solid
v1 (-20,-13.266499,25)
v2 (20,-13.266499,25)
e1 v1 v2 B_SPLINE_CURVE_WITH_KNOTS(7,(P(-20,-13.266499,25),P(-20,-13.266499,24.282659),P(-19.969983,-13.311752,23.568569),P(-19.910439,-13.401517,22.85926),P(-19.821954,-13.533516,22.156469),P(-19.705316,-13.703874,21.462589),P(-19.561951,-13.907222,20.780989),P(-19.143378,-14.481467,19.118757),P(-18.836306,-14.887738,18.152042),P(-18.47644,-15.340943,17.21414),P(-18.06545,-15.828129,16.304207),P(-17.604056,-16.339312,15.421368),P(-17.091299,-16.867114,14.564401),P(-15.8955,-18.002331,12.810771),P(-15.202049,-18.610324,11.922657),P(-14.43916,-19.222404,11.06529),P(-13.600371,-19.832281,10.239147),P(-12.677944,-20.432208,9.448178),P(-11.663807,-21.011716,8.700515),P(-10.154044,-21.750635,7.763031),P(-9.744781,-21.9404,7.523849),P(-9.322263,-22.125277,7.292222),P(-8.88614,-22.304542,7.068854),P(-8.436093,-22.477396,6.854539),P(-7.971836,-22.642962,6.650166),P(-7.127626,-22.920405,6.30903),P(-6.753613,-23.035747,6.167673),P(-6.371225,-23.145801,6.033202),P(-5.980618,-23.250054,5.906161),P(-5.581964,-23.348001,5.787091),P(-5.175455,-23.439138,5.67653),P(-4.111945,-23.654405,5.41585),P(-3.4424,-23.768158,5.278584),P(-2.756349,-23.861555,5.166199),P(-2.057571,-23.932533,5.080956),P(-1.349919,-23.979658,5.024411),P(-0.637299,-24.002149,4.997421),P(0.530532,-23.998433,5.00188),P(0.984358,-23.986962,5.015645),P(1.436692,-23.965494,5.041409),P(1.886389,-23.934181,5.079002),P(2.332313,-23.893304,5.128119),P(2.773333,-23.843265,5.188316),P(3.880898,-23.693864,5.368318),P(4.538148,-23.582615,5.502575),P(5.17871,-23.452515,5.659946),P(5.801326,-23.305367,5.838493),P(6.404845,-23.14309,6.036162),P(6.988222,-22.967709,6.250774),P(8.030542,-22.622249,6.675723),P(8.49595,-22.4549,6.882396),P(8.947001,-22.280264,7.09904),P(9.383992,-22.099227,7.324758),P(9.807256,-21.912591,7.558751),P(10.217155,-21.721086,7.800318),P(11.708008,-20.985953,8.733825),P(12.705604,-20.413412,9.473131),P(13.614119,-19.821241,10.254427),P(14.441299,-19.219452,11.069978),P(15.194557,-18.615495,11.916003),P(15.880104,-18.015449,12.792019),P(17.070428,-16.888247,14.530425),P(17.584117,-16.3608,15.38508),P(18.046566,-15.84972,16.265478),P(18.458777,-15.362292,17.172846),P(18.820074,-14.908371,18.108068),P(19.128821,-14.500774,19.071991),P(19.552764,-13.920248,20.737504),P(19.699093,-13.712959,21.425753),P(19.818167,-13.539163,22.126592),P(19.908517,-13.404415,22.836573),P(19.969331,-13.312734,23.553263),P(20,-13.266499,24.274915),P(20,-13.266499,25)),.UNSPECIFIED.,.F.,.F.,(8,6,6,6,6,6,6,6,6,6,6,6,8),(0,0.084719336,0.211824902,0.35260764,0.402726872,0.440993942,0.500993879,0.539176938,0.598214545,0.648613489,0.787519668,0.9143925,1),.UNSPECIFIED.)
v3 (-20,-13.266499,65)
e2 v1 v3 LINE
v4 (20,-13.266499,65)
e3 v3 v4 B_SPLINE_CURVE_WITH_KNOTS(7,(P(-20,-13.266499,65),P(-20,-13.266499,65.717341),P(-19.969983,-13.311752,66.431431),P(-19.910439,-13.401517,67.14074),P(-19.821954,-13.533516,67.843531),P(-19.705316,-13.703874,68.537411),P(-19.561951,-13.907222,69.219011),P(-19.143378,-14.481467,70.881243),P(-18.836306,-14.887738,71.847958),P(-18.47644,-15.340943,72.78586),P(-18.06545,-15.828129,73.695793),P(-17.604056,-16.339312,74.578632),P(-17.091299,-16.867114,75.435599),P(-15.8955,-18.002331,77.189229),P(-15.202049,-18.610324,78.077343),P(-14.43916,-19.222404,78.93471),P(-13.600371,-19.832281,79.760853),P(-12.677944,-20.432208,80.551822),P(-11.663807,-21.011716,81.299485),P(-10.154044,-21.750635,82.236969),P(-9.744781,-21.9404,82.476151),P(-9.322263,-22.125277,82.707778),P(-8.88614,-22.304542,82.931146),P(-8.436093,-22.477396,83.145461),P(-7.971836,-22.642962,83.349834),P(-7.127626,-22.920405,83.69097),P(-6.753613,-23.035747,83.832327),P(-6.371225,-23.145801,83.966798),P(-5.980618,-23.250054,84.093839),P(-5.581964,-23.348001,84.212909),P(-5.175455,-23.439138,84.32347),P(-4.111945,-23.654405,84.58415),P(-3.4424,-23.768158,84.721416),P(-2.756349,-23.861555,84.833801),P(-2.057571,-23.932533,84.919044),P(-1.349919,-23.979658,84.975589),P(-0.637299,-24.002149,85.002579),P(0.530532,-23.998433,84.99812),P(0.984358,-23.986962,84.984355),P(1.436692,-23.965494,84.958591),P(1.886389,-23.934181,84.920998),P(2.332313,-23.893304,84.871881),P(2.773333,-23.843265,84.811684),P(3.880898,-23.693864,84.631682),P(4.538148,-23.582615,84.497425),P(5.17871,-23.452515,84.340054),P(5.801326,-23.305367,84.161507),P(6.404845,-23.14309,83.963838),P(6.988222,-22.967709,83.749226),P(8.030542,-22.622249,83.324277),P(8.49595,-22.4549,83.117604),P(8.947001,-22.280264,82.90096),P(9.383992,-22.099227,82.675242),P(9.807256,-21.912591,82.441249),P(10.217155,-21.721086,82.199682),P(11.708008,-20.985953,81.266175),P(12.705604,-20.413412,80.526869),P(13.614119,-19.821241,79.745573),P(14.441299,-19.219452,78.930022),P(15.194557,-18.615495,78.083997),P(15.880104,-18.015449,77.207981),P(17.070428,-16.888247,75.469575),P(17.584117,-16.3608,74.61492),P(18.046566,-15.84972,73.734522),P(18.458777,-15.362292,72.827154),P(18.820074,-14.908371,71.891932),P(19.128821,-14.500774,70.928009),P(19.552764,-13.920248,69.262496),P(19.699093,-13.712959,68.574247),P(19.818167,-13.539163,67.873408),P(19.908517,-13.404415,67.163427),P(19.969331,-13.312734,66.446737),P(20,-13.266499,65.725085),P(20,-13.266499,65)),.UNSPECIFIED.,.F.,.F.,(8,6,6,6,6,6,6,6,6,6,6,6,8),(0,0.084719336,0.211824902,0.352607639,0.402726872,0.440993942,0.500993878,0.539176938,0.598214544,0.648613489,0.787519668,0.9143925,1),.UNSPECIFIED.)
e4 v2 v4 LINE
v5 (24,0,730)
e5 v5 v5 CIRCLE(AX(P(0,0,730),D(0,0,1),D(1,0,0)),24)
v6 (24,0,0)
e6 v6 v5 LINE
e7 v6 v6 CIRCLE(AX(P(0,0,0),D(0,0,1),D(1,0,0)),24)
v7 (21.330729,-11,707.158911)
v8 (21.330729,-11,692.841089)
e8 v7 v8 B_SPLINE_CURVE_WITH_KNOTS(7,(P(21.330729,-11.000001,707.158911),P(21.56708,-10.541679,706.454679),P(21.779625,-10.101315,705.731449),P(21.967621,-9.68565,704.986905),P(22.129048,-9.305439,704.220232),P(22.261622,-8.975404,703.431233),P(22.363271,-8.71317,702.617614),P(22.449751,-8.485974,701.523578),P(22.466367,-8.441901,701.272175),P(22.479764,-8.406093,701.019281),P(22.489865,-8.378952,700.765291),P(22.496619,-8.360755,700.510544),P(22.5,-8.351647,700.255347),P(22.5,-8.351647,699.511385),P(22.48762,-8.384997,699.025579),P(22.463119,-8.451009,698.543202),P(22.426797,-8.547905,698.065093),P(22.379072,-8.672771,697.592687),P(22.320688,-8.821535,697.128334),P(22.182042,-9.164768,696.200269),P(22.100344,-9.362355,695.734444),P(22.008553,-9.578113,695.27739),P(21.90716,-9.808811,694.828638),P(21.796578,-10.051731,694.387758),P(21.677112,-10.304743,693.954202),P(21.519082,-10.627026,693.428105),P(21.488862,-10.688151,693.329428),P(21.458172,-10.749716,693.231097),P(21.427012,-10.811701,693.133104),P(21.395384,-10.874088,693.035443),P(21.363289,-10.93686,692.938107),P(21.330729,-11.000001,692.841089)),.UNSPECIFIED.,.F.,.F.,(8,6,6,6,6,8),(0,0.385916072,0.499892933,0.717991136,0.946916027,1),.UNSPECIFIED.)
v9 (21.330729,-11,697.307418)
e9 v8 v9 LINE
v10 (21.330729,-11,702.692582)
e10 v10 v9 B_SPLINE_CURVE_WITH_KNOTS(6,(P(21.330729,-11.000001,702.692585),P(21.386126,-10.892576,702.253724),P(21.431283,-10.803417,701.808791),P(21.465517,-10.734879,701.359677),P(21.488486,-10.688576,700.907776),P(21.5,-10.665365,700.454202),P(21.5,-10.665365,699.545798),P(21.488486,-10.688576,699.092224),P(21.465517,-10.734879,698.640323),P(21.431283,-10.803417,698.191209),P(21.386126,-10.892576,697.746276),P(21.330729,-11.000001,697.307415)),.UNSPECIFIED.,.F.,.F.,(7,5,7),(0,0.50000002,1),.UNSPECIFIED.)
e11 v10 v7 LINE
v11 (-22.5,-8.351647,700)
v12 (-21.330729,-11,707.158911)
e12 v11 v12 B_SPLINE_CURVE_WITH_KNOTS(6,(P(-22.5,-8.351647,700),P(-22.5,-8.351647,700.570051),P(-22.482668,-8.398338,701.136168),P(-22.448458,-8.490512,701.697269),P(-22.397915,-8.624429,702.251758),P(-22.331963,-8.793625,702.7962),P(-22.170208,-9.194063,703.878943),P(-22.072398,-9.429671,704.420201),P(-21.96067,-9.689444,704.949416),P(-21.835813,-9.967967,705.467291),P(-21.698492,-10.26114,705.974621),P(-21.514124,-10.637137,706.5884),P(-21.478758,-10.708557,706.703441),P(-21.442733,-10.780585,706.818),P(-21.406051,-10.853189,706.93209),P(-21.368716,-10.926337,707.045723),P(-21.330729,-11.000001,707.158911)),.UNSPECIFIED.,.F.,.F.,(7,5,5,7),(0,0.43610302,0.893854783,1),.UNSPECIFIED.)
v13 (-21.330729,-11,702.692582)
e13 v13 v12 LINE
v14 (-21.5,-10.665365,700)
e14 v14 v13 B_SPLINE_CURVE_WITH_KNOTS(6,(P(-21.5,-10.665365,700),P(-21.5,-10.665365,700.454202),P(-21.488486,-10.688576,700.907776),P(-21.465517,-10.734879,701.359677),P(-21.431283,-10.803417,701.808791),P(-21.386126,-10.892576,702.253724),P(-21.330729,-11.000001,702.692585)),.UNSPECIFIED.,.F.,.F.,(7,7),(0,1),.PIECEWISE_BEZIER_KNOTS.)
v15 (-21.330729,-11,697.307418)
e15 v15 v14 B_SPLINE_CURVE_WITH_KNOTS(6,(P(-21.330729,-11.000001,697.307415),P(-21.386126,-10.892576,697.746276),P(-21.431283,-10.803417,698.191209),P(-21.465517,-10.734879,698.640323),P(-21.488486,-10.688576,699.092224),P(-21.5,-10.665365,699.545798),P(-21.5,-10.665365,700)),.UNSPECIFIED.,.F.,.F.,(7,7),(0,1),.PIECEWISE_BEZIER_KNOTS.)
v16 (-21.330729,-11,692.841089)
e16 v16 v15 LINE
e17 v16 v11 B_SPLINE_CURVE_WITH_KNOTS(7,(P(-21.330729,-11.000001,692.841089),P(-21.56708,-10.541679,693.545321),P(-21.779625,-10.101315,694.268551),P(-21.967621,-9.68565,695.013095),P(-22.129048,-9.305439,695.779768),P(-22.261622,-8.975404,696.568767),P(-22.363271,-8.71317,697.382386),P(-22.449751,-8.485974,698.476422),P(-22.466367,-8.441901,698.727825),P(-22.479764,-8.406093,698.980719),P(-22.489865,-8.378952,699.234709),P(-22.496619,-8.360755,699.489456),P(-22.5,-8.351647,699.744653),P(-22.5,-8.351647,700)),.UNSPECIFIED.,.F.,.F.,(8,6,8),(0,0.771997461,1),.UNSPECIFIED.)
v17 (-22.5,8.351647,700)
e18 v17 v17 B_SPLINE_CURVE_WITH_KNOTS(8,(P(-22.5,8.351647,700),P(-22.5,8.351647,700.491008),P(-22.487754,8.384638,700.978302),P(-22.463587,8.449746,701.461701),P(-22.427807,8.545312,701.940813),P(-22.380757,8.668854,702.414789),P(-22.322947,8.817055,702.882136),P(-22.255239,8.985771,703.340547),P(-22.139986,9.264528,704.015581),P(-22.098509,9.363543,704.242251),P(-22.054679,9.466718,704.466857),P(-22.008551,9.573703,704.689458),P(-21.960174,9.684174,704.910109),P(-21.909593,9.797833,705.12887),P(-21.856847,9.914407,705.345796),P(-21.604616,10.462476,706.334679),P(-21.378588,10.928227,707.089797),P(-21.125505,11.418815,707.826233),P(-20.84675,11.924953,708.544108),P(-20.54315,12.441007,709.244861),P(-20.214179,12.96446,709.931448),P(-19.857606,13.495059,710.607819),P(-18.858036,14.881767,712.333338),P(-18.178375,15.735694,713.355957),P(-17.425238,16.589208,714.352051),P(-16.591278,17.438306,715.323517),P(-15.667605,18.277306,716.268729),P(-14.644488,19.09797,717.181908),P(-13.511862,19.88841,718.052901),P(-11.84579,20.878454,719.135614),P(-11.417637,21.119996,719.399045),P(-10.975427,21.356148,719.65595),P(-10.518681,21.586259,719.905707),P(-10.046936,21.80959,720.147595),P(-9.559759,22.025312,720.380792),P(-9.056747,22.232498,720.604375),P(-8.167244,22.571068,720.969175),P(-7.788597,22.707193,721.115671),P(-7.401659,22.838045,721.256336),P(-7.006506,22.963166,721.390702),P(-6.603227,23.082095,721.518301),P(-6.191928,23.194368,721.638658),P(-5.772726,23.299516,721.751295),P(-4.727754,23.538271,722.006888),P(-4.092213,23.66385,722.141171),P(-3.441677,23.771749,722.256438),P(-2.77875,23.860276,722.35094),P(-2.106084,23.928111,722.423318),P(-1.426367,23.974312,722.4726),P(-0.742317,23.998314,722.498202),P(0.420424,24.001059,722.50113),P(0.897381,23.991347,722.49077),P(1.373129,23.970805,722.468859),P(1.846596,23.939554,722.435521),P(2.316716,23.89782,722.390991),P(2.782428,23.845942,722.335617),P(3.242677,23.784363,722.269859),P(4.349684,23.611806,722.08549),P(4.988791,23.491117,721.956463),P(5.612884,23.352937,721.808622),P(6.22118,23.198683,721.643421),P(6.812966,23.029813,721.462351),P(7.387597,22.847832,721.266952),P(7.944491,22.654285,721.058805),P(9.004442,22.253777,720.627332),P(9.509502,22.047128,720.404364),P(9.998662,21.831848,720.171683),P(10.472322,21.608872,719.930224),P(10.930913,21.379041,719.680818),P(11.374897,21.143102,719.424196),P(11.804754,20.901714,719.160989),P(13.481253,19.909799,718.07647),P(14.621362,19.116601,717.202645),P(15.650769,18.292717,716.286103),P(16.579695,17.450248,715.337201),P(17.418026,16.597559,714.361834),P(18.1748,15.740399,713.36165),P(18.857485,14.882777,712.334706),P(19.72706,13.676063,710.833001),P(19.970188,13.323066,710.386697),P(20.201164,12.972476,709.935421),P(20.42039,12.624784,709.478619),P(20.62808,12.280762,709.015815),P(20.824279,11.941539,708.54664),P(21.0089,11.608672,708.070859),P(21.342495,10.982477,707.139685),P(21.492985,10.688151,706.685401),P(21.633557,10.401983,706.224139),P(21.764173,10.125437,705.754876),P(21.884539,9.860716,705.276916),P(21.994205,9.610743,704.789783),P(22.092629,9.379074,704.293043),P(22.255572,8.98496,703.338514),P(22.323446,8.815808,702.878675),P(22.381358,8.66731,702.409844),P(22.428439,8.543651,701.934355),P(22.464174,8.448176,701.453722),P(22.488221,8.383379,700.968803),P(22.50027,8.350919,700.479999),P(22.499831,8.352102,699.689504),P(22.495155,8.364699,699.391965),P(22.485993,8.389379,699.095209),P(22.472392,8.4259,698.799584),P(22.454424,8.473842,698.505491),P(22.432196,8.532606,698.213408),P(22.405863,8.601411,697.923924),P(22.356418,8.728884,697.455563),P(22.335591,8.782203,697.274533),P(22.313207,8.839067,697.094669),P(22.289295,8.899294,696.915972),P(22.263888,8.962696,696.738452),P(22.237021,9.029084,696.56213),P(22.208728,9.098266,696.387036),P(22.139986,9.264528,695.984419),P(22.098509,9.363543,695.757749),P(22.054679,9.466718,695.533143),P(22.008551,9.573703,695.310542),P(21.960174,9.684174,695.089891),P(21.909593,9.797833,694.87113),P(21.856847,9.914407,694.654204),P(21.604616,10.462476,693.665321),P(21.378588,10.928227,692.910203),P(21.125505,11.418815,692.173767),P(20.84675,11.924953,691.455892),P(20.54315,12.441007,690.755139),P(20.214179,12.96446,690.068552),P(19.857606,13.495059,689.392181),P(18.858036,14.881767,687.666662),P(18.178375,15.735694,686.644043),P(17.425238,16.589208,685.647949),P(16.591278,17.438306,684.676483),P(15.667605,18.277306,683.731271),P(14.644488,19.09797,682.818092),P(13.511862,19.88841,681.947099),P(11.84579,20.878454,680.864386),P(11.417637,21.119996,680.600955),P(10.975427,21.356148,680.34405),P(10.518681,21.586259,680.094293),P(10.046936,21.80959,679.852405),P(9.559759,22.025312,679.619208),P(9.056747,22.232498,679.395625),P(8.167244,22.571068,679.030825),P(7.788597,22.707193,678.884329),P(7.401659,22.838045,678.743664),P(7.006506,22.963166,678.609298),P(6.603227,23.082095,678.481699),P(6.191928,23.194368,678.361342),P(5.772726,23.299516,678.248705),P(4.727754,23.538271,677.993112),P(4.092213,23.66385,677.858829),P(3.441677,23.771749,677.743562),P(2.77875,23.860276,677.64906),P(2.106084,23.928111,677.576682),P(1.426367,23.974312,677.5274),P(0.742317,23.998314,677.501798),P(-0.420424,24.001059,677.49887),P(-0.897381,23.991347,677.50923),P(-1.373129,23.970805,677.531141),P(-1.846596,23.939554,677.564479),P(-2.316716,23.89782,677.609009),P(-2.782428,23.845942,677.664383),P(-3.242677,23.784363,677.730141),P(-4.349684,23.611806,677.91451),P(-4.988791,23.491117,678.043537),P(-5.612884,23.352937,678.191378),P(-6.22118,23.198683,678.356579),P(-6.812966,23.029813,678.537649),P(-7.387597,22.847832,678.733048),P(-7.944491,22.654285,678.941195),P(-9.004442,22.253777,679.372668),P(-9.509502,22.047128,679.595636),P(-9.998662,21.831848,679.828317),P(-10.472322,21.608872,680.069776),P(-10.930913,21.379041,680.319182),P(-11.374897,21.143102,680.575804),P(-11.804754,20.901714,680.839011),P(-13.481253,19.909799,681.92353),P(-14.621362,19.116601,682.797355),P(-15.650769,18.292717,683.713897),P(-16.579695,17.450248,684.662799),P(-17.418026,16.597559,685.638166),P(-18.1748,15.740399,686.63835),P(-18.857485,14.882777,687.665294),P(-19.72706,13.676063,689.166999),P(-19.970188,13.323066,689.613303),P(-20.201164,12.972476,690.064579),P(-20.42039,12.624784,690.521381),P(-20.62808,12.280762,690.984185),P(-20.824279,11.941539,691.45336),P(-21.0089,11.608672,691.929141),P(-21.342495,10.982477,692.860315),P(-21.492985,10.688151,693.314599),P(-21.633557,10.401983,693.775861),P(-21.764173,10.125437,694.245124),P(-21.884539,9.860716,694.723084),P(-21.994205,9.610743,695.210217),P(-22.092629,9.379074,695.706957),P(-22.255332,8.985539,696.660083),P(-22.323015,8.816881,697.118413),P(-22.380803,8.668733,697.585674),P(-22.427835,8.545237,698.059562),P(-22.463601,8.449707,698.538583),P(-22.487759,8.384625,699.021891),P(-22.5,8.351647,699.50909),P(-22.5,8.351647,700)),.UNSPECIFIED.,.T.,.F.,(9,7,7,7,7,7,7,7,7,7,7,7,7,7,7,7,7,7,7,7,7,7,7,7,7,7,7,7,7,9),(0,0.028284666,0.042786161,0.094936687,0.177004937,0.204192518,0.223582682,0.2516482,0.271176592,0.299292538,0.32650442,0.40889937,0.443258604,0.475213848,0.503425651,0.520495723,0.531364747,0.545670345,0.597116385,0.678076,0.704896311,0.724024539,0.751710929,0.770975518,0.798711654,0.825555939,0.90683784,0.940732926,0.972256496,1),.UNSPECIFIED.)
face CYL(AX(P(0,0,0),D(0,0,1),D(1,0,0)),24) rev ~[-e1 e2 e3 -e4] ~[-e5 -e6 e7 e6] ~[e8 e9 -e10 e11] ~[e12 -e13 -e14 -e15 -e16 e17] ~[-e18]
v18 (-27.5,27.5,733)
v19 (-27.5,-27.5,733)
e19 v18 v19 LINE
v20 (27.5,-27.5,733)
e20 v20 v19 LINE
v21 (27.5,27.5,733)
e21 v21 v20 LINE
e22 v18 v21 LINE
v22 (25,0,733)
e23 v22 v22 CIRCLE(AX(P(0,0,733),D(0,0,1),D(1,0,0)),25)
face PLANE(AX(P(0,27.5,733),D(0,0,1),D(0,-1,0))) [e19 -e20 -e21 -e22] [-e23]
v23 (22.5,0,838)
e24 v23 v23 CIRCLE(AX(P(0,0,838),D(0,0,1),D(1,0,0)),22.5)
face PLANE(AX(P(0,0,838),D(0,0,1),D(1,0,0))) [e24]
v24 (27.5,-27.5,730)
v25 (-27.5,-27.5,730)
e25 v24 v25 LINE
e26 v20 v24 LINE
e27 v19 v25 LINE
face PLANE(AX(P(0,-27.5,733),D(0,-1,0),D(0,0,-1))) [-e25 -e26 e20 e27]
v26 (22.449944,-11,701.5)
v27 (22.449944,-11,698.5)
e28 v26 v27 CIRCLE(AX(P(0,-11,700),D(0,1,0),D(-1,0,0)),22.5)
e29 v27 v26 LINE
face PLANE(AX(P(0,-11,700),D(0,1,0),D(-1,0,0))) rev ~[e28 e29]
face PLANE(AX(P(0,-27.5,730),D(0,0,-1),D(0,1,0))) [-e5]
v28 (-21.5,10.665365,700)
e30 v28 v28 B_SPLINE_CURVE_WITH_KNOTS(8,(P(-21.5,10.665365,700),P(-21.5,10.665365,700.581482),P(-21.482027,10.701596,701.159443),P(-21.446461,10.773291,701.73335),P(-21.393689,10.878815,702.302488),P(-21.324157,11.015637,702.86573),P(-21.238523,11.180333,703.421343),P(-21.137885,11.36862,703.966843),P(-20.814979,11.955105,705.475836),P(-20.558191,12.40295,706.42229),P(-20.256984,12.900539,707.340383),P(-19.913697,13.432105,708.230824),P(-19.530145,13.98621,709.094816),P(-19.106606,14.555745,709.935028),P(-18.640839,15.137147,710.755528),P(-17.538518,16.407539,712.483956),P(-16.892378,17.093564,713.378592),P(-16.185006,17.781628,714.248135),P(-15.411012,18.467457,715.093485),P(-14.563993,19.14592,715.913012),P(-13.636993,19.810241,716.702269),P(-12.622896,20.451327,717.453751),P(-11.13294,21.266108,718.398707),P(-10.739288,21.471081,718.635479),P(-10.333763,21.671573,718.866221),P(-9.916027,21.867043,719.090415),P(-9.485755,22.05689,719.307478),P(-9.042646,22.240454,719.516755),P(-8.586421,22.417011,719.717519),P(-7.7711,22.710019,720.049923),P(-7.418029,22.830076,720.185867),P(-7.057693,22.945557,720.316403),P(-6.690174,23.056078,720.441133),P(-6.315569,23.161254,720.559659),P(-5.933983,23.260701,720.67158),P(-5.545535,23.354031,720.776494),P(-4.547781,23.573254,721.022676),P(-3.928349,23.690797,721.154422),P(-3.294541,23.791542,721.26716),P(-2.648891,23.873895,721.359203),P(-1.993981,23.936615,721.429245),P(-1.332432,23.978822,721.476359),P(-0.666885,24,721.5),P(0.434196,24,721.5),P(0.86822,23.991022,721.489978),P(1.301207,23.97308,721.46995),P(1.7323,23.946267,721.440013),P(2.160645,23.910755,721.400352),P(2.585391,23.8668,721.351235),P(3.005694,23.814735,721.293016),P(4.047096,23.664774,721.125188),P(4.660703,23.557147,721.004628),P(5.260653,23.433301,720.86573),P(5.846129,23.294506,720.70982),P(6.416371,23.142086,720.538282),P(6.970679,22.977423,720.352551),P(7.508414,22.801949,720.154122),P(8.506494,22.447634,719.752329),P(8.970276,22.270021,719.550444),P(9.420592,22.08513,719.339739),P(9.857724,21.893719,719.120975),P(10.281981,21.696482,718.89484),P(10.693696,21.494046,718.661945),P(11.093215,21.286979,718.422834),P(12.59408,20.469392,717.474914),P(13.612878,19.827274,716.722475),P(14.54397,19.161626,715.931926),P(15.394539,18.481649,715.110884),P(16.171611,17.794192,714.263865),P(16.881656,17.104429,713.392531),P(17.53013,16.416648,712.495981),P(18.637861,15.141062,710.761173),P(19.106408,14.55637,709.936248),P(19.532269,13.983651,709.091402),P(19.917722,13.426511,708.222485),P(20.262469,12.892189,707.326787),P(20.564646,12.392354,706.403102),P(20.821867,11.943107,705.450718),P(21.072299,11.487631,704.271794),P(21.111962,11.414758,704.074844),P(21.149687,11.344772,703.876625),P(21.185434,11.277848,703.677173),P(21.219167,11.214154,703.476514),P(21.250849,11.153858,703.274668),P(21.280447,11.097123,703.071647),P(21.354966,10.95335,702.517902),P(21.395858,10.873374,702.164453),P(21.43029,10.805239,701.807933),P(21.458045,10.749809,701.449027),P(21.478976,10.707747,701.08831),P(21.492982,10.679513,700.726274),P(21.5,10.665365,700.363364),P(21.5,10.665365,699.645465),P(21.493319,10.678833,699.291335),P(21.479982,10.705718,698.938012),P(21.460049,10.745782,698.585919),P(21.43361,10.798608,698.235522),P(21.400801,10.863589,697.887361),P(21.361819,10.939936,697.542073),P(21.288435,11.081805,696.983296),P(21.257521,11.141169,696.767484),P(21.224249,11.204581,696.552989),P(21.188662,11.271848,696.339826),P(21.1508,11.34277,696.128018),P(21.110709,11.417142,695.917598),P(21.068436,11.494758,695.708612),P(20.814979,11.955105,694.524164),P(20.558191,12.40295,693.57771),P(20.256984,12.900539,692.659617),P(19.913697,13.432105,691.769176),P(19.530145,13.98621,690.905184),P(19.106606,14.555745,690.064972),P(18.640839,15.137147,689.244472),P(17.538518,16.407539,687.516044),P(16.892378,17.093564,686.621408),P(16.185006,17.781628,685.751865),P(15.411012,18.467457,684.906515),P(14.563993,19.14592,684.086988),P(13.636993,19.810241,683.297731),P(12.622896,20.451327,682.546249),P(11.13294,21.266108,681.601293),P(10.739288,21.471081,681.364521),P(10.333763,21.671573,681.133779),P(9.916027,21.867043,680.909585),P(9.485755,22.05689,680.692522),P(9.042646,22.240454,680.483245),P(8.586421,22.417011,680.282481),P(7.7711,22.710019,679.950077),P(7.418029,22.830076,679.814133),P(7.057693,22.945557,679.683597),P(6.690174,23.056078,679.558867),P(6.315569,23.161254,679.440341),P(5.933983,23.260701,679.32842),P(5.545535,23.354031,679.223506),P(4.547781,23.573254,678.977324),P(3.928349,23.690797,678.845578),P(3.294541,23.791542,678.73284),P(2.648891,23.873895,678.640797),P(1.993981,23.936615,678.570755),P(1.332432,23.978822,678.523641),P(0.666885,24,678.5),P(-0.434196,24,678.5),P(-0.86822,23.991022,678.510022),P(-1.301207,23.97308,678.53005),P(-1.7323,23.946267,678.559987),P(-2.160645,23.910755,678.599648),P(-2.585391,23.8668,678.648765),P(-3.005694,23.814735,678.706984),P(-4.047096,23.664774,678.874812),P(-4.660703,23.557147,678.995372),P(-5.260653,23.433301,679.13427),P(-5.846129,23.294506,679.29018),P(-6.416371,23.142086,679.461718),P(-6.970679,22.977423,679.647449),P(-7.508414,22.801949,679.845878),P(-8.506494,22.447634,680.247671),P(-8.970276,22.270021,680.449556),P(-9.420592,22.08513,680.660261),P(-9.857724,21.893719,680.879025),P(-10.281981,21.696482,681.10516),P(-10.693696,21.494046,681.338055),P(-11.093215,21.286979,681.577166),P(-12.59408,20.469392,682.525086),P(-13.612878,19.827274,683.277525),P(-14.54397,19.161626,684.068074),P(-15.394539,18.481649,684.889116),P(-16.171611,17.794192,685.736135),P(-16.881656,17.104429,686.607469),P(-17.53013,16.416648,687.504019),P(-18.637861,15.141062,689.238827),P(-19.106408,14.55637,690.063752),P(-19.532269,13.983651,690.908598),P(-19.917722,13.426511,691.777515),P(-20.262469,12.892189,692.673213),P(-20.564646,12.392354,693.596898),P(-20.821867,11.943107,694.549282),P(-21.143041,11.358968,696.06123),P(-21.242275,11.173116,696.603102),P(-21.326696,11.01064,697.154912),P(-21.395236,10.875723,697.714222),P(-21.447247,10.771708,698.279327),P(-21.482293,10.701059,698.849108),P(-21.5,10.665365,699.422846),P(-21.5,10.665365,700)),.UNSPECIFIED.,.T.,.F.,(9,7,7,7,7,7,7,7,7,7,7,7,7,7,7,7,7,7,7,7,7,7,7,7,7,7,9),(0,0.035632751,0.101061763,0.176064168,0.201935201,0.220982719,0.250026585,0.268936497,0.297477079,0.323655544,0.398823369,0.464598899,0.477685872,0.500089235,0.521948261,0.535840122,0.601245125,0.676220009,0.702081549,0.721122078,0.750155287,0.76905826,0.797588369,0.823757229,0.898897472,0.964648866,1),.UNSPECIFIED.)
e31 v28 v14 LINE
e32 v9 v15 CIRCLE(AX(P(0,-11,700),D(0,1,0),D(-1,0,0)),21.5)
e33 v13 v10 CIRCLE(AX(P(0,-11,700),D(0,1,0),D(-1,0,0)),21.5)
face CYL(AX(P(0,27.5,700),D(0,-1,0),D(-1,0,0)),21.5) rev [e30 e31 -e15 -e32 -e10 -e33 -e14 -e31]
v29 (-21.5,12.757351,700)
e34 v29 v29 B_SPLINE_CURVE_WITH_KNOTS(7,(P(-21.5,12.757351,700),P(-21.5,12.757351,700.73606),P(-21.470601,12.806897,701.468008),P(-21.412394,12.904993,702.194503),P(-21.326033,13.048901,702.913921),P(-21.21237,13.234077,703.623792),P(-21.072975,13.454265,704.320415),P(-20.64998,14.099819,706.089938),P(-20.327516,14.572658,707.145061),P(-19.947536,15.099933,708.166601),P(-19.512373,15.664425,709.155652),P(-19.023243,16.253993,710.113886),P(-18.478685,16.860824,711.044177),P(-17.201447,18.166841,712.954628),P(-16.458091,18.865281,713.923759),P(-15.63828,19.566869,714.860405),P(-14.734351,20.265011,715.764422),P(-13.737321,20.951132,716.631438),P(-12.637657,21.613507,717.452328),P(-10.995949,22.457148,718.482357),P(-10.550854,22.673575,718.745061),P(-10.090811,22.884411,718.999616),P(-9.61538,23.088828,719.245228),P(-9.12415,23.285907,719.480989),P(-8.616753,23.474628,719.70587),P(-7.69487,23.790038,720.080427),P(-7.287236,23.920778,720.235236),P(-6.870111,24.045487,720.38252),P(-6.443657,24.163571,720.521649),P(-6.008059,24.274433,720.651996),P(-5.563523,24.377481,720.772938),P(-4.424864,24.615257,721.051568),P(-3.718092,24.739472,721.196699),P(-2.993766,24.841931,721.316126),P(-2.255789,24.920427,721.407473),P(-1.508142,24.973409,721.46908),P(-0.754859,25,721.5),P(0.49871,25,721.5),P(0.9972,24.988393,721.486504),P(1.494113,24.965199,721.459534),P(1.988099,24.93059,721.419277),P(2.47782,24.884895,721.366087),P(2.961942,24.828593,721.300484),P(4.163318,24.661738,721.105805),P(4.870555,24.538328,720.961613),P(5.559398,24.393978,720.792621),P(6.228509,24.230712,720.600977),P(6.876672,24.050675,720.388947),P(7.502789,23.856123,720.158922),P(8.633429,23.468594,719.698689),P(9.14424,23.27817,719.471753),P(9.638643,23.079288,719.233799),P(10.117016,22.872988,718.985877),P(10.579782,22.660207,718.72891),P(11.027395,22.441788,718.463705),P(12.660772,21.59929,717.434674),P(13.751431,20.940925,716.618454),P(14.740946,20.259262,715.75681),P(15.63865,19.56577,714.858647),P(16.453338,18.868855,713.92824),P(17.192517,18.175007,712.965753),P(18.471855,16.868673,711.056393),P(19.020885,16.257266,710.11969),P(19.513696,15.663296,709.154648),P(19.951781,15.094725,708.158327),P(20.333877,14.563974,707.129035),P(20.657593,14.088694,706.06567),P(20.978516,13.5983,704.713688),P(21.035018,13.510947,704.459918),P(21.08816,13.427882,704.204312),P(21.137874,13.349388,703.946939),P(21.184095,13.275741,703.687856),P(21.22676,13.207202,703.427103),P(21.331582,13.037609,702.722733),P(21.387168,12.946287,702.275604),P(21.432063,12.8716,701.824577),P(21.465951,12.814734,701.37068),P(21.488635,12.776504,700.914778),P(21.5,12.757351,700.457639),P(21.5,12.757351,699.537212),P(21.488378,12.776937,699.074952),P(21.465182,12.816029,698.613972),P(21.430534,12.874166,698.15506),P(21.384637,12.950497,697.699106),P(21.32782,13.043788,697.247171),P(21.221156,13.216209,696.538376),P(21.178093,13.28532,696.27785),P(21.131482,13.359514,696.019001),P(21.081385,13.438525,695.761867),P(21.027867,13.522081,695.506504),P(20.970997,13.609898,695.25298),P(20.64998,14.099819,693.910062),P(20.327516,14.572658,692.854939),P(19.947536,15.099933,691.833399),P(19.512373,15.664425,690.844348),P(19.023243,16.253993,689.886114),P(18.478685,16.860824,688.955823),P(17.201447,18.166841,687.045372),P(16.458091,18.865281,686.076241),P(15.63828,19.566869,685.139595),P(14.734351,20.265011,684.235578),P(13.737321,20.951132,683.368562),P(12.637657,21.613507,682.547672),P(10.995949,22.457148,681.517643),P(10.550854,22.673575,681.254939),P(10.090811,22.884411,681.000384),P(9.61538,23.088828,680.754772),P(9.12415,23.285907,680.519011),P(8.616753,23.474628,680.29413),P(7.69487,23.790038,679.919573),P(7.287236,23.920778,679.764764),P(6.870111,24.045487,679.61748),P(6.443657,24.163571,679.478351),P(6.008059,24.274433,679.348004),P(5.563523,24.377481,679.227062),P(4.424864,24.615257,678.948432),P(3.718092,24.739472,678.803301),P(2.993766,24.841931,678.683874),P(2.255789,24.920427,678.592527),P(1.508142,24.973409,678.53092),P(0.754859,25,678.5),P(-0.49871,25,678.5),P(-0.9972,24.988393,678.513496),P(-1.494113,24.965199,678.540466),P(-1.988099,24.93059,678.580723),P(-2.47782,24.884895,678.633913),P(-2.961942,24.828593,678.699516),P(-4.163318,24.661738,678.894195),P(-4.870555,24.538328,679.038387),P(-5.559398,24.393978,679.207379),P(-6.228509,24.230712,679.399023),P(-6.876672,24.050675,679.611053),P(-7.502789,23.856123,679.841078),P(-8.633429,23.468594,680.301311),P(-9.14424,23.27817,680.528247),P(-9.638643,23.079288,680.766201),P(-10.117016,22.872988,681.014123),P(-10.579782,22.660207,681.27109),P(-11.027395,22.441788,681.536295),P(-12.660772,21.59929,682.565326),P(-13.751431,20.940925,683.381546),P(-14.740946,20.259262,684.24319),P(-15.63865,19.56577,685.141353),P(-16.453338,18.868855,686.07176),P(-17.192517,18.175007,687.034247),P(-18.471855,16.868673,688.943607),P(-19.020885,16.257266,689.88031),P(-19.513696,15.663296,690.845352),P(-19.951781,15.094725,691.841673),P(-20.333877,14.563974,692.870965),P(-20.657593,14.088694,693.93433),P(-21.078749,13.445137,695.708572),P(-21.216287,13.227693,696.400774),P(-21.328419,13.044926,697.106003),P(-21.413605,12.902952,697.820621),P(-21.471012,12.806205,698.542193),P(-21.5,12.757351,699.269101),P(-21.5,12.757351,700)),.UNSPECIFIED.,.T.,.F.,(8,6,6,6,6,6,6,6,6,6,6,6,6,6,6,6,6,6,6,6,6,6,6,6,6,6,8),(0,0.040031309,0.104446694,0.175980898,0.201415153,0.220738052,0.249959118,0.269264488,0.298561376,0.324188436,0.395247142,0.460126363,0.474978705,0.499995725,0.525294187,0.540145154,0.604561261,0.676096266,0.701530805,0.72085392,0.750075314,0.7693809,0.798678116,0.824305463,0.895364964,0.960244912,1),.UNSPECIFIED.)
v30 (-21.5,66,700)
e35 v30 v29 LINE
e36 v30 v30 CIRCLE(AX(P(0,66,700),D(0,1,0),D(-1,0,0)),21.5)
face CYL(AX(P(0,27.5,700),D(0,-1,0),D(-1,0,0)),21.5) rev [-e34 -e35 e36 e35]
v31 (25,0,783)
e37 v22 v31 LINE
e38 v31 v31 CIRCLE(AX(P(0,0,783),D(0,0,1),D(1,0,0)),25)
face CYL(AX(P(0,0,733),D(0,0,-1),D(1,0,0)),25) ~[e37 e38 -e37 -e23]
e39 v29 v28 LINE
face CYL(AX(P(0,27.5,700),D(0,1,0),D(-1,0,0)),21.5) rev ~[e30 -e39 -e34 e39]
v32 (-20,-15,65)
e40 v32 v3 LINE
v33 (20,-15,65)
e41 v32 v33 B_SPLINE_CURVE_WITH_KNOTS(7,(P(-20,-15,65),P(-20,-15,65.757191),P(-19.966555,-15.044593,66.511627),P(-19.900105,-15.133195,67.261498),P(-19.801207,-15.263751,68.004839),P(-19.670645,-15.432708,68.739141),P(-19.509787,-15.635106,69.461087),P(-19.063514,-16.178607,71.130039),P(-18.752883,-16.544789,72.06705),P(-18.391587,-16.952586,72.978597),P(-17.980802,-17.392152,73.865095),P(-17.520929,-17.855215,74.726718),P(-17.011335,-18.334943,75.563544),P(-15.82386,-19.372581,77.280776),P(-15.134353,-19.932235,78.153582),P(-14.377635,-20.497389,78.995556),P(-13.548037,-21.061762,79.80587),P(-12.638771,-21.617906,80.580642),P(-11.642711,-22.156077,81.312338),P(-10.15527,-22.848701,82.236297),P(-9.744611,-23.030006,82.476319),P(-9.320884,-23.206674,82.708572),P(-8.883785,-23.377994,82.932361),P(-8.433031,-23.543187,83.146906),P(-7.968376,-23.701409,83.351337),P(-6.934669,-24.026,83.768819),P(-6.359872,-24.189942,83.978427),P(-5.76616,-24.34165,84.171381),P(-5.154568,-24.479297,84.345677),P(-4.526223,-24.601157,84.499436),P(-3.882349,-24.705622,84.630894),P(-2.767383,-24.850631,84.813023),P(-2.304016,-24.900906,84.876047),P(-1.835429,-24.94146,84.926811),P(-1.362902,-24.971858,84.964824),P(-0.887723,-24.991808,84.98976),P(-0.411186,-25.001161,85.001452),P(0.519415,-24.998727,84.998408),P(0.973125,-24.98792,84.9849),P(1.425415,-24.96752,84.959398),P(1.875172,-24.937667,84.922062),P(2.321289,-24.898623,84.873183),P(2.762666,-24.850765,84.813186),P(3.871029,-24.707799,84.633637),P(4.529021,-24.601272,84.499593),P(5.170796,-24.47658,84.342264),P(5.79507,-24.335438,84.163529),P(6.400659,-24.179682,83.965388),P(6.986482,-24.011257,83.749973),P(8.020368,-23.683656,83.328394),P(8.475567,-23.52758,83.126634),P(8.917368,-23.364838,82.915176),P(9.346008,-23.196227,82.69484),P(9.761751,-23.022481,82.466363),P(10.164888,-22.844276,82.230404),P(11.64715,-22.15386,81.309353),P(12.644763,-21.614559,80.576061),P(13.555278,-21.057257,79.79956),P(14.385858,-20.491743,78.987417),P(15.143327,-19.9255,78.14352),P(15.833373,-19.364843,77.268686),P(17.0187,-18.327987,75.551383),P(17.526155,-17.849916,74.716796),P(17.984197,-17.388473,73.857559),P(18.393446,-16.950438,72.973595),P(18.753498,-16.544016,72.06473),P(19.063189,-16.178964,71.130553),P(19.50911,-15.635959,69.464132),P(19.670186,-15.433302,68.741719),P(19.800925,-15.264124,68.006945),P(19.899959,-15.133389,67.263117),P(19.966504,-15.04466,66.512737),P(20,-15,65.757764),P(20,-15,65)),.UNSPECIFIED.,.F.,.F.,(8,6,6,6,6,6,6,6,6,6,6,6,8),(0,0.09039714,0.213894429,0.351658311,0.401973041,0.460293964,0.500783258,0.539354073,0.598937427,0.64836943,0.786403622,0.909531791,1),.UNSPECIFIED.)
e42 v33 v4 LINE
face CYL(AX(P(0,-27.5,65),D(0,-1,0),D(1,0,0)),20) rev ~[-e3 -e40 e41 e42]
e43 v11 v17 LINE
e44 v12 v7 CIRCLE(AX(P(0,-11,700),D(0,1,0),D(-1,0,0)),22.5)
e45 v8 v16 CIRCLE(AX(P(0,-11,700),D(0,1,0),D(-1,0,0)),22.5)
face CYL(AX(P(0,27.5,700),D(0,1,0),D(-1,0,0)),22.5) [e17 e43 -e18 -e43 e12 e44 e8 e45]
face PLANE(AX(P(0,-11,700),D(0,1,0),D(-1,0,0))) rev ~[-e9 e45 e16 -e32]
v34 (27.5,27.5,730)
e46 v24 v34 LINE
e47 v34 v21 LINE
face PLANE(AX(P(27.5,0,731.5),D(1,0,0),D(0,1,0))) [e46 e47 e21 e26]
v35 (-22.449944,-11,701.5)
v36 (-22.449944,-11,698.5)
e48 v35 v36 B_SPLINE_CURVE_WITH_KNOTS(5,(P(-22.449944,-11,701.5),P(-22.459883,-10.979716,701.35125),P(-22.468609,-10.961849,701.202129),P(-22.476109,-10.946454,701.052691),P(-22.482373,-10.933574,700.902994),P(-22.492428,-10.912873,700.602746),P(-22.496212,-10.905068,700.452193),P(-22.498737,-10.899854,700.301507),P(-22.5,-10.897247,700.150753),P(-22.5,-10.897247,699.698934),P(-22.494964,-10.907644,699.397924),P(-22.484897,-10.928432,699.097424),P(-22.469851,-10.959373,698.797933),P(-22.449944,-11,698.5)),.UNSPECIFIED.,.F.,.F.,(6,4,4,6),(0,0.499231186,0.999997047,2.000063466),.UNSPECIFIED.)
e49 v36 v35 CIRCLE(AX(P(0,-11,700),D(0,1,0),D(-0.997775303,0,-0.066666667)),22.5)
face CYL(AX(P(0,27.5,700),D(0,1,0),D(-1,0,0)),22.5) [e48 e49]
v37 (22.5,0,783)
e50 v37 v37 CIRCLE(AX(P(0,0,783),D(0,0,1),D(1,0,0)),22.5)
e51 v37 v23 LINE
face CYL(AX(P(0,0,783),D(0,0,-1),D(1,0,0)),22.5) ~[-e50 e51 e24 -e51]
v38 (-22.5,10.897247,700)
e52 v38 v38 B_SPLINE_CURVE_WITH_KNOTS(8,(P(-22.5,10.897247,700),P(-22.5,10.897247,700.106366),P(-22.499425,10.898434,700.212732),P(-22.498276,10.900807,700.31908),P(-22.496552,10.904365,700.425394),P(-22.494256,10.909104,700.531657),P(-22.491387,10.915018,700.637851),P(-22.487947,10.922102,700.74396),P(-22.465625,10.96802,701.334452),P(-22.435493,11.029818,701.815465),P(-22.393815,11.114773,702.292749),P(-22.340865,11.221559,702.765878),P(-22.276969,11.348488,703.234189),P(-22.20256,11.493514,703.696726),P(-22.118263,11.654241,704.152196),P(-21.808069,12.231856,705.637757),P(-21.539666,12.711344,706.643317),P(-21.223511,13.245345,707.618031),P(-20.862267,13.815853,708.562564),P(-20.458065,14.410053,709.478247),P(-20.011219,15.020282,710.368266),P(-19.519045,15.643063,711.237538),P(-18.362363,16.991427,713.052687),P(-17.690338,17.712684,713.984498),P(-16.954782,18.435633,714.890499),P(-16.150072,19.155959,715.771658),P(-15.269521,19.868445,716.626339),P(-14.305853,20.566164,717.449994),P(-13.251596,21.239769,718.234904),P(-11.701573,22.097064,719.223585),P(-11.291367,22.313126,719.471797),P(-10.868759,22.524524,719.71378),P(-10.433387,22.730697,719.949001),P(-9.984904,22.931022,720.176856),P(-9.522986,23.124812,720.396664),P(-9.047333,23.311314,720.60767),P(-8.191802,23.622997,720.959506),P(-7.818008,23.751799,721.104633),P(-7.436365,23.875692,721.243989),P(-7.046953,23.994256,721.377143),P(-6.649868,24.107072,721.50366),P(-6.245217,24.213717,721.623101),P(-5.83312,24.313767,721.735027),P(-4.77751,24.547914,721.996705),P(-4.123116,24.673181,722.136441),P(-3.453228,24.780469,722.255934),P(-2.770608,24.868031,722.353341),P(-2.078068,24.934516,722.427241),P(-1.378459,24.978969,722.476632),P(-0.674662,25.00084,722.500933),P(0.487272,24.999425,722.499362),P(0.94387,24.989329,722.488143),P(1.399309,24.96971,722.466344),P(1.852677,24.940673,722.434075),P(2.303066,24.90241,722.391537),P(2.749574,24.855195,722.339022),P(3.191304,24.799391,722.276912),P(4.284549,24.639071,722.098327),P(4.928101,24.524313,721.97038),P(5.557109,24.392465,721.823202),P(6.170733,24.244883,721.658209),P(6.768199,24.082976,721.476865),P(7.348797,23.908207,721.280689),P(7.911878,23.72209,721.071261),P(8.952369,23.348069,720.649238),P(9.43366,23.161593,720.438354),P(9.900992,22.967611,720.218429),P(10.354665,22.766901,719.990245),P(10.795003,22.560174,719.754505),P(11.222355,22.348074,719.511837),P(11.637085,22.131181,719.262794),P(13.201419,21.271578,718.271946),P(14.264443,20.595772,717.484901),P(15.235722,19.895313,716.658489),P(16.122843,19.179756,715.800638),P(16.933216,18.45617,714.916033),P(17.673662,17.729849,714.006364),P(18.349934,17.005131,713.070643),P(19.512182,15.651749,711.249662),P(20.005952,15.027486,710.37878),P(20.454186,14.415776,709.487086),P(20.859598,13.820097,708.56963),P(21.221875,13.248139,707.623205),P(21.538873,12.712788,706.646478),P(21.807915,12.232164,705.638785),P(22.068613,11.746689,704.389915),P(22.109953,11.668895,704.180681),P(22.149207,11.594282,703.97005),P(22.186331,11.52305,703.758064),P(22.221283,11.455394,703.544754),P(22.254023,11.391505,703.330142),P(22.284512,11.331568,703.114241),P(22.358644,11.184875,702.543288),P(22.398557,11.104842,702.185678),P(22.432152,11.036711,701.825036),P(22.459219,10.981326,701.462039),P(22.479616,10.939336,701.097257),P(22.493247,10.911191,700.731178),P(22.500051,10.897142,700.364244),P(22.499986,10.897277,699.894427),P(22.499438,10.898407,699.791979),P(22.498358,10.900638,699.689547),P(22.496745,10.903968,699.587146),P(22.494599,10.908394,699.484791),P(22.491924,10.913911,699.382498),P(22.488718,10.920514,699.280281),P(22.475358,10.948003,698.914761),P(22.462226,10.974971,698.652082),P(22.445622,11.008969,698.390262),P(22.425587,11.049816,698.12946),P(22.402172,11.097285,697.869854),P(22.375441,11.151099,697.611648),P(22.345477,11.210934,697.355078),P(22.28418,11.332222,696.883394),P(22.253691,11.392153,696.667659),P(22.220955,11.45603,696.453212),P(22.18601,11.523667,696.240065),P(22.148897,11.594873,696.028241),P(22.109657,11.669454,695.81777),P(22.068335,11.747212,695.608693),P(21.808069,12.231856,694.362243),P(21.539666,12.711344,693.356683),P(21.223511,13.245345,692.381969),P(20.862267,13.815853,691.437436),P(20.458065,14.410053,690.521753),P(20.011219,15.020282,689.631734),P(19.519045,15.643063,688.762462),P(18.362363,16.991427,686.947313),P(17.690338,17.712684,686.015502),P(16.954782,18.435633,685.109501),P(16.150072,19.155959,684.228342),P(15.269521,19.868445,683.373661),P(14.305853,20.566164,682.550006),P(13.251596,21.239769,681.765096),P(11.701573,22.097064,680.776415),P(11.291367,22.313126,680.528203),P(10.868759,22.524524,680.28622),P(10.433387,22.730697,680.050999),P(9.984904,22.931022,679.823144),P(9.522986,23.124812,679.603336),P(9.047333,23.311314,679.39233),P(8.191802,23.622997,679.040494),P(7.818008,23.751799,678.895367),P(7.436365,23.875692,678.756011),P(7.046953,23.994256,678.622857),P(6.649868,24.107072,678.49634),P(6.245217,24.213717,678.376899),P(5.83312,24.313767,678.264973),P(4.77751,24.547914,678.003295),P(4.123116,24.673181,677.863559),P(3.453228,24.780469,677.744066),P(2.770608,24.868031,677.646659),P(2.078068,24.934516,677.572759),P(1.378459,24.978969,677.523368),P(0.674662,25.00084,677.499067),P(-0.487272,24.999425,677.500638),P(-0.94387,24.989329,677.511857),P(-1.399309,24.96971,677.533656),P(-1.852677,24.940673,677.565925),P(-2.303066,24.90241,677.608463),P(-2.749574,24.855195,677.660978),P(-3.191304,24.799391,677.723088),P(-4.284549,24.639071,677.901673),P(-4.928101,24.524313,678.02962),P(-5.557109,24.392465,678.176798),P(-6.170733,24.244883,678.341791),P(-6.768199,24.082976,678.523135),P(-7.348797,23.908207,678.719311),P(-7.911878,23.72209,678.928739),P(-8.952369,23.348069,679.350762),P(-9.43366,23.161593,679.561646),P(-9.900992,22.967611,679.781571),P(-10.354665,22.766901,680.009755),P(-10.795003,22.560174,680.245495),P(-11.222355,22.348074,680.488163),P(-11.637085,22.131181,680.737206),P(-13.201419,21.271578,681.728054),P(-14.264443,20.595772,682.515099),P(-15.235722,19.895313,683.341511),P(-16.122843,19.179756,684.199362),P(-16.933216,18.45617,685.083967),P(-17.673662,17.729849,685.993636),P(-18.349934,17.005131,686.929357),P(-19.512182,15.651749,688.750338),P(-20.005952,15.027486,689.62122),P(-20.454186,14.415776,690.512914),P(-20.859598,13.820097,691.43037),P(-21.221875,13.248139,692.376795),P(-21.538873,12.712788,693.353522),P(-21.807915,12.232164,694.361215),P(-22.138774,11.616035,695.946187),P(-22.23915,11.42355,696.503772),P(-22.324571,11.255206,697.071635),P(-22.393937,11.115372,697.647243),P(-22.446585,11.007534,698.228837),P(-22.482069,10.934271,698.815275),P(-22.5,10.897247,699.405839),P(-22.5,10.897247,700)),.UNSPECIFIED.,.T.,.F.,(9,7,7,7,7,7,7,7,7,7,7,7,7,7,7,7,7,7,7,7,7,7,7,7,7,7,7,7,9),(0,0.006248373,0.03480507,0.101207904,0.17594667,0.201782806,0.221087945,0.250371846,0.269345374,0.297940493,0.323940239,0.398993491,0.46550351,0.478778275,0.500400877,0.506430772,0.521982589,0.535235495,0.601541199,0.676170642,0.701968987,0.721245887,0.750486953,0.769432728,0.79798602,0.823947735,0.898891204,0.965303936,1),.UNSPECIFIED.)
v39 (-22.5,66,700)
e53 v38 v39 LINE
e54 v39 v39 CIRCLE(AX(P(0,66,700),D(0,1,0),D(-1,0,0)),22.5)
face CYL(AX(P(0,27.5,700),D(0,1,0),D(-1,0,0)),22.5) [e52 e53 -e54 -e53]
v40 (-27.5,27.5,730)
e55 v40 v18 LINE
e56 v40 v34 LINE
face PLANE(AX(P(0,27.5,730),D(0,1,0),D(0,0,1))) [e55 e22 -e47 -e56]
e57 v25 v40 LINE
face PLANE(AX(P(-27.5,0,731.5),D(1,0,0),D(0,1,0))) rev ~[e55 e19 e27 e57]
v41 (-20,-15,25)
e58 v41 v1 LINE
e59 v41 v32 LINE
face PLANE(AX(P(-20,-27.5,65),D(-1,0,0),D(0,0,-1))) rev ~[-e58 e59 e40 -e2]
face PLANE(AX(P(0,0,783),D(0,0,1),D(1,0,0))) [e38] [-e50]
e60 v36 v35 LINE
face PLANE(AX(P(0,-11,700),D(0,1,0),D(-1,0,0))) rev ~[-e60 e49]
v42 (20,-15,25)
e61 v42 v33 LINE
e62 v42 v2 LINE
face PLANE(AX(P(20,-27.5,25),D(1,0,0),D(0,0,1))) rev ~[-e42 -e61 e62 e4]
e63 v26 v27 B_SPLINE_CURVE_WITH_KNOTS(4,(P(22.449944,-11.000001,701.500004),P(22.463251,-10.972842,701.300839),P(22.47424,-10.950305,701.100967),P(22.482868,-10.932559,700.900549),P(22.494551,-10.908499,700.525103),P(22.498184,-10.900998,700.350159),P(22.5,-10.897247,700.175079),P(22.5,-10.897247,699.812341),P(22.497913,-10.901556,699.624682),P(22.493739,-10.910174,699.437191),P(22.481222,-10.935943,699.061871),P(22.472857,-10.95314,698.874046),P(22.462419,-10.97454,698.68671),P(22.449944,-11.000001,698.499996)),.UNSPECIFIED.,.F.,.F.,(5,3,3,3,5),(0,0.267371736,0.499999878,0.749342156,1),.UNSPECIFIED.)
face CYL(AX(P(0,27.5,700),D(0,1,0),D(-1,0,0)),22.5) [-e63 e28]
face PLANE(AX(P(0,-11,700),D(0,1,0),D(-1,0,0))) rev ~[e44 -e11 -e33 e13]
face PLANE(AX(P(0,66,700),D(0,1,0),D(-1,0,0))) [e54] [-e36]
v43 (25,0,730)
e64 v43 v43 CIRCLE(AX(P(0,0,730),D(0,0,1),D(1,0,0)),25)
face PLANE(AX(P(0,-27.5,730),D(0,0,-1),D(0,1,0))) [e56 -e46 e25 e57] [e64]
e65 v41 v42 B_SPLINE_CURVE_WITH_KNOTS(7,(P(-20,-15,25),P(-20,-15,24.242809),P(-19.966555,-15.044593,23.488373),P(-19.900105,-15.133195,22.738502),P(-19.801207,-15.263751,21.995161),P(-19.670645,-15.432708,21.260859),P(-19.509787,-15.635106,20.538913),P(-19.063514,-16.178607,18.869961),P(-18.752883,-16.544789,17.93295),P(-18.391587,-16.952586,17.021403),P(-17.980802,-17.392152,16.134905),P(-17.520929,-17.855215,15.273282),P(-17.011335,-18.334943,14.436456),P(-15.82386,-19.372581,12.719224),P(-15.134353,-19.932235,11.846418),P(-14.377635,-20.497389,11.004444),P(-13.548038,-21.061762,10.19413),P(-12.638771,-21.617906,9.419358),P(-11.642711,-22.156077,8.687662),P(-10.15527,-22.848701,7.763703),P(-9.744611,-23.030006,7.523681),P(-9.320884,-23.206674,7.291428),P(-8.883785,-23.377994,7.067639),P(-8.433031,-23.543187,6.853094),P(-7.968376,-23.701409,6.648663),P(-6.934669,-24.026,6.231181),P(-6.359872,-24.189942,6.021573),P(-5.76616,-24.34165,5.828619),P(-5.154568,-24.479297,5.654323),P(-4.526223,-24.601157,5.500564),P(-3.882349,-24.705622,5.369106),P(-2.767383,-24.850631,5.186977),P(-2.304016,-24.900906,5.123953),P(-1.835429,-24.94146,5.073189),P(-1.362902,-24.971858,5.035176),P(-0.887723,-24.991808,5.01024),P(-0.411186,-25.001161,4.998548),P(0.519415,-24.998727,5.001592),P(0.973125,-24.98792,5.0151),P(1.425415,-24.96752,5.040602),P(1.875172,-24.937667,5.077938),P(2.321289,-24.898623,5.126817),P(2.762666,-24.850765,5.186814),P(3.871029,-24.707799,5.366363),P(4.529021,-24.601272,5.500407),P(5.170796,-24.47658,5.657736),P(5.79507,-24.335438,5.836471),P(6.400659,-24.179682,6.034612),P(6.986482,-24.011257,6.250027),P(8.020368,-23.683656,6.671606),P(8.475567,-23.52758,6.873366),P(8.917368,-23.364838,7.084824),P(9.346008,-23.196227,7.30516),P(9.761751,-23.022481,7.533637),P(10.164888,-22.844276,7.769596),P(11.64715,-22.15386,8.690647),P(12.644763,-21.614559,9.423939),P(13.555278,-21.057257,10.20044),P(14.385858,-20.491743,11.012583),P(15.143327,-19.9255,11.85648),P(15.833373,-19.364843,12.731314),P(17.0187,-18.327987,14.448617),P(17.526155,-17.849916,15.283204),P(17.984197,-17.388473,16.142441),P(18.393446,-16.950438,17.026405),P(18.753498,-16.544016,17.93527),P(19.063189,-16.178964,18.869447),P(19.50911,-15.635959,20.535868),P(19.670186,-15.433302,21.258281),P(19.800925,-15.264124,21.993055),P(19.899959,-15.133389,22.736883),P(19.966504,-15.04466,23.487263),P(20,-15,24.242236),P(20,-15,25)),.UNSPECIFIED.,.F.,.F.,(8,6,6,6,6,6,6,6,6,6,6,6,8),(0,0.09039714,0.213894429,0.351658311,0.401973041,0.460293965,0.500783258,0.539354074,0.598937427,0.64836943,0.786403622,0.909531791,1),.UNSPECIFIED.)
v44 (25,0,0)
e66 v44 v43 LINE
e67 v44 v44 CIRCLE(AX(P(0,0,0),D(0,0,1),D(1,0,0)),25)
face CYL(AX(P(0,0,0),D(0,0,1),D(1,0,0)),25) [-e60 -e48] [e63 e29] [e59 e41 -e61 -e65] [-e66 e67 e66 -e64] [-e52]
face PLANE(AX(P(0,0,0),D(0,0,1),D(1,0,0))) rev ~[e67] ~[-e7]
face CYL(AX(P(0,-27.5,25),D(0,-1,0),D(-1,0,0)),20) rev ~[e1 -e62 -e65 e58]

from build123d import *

# Parameters (mm, degrees)
F1_R      = 25
F1_R_2    = 24
F4_DEPTH  = 27.5
F5_R      = 25
F6_DEPTH  = 50
F7_R      = 22.5
F8_DEPTH  = 55
F9_R      = 21.5
F10_DEPTH = 20
F9_R_2    = 22.5
F11_DEPTH = 38.5
F13_DEPTH = 38.5


with BuildPart() as f2:
    # F2: sweep along a path in F0
    with BuildLine(Plane.YZ) as f2_path:
        Line((0, 0), (0, 730))
    # F1 (on Top) → F2 (sweep)
    with BuildSketch(Plane.XY):
        Circle(F1_R)
        Circle(F1_R_2, mode=Mode.SUBTRACT)
    sweep(path=f2_path.line)

    # F3 (on Right) → F4 (join, symmetric)
    with BuildSketch(Plane.YZ):
        Polygon((-27.5, 730), (-25, 730), (25, 730), (27.5, 730), (27.5, 733), (-27.5, 733), align=None)
    extrude(amount=F4_DEPTH, both=True)

    # F5 (on face) → F6 (join)
    with BuildSketch(Plane.XY.offset(733)):
        Circle(F5_R)
    extrude(amount=F6_DEPTH)

    # F7 (on face) → F8 (join)
    with BuildSketch(Plane.XY.offset(783)):
        Circle(F7_R)
    extrude(amount=F8_DEPTH)

    # F9 (on face) → F10 (cut)
    with BuildSketch(Plane(origin=(0, 27.5, 0), x_dir=(-1, 0, 0), z_dir=(0, 1, 0))):
        with Locations((0, 700)):
            Circle(F9_R)
    extrude(amount=-F10_DEPTH, mode=Mode.SUBTRACT)

    # F9 (on face) → F11 (join, symmetric)
    with BuildSketch(Plane(origin=(0, 27.5, 0), x_dir=(-1, 0, 0), z_dir=(0, 1, 0))):
        with Locations((0, 700)):
            Circle(F9_R_2)
        with Locations((0, 700)):
            Circle(F9_R, mode=Mode.SUBTRACT)
    extrude(amount=F11_DEPTH, both=True)

    # F12 (on face) → F13 (cut)
    with BuildSketch(Plane.XZ.offset(27.5)):
        with BuildLine():
            Line((-20, 65), (-20, 25))
            ThreePointArc((-20, 25), (0, 5), (20, 25))
            Line((20, 25), (20, 65))
            ThreePointArc((20, 65), (0, 85), (-20, 65))
        make_face()
    extrude(amount=-F13_DEPTH, mode=Mode.SUBTRACT)


solid = f2.part
